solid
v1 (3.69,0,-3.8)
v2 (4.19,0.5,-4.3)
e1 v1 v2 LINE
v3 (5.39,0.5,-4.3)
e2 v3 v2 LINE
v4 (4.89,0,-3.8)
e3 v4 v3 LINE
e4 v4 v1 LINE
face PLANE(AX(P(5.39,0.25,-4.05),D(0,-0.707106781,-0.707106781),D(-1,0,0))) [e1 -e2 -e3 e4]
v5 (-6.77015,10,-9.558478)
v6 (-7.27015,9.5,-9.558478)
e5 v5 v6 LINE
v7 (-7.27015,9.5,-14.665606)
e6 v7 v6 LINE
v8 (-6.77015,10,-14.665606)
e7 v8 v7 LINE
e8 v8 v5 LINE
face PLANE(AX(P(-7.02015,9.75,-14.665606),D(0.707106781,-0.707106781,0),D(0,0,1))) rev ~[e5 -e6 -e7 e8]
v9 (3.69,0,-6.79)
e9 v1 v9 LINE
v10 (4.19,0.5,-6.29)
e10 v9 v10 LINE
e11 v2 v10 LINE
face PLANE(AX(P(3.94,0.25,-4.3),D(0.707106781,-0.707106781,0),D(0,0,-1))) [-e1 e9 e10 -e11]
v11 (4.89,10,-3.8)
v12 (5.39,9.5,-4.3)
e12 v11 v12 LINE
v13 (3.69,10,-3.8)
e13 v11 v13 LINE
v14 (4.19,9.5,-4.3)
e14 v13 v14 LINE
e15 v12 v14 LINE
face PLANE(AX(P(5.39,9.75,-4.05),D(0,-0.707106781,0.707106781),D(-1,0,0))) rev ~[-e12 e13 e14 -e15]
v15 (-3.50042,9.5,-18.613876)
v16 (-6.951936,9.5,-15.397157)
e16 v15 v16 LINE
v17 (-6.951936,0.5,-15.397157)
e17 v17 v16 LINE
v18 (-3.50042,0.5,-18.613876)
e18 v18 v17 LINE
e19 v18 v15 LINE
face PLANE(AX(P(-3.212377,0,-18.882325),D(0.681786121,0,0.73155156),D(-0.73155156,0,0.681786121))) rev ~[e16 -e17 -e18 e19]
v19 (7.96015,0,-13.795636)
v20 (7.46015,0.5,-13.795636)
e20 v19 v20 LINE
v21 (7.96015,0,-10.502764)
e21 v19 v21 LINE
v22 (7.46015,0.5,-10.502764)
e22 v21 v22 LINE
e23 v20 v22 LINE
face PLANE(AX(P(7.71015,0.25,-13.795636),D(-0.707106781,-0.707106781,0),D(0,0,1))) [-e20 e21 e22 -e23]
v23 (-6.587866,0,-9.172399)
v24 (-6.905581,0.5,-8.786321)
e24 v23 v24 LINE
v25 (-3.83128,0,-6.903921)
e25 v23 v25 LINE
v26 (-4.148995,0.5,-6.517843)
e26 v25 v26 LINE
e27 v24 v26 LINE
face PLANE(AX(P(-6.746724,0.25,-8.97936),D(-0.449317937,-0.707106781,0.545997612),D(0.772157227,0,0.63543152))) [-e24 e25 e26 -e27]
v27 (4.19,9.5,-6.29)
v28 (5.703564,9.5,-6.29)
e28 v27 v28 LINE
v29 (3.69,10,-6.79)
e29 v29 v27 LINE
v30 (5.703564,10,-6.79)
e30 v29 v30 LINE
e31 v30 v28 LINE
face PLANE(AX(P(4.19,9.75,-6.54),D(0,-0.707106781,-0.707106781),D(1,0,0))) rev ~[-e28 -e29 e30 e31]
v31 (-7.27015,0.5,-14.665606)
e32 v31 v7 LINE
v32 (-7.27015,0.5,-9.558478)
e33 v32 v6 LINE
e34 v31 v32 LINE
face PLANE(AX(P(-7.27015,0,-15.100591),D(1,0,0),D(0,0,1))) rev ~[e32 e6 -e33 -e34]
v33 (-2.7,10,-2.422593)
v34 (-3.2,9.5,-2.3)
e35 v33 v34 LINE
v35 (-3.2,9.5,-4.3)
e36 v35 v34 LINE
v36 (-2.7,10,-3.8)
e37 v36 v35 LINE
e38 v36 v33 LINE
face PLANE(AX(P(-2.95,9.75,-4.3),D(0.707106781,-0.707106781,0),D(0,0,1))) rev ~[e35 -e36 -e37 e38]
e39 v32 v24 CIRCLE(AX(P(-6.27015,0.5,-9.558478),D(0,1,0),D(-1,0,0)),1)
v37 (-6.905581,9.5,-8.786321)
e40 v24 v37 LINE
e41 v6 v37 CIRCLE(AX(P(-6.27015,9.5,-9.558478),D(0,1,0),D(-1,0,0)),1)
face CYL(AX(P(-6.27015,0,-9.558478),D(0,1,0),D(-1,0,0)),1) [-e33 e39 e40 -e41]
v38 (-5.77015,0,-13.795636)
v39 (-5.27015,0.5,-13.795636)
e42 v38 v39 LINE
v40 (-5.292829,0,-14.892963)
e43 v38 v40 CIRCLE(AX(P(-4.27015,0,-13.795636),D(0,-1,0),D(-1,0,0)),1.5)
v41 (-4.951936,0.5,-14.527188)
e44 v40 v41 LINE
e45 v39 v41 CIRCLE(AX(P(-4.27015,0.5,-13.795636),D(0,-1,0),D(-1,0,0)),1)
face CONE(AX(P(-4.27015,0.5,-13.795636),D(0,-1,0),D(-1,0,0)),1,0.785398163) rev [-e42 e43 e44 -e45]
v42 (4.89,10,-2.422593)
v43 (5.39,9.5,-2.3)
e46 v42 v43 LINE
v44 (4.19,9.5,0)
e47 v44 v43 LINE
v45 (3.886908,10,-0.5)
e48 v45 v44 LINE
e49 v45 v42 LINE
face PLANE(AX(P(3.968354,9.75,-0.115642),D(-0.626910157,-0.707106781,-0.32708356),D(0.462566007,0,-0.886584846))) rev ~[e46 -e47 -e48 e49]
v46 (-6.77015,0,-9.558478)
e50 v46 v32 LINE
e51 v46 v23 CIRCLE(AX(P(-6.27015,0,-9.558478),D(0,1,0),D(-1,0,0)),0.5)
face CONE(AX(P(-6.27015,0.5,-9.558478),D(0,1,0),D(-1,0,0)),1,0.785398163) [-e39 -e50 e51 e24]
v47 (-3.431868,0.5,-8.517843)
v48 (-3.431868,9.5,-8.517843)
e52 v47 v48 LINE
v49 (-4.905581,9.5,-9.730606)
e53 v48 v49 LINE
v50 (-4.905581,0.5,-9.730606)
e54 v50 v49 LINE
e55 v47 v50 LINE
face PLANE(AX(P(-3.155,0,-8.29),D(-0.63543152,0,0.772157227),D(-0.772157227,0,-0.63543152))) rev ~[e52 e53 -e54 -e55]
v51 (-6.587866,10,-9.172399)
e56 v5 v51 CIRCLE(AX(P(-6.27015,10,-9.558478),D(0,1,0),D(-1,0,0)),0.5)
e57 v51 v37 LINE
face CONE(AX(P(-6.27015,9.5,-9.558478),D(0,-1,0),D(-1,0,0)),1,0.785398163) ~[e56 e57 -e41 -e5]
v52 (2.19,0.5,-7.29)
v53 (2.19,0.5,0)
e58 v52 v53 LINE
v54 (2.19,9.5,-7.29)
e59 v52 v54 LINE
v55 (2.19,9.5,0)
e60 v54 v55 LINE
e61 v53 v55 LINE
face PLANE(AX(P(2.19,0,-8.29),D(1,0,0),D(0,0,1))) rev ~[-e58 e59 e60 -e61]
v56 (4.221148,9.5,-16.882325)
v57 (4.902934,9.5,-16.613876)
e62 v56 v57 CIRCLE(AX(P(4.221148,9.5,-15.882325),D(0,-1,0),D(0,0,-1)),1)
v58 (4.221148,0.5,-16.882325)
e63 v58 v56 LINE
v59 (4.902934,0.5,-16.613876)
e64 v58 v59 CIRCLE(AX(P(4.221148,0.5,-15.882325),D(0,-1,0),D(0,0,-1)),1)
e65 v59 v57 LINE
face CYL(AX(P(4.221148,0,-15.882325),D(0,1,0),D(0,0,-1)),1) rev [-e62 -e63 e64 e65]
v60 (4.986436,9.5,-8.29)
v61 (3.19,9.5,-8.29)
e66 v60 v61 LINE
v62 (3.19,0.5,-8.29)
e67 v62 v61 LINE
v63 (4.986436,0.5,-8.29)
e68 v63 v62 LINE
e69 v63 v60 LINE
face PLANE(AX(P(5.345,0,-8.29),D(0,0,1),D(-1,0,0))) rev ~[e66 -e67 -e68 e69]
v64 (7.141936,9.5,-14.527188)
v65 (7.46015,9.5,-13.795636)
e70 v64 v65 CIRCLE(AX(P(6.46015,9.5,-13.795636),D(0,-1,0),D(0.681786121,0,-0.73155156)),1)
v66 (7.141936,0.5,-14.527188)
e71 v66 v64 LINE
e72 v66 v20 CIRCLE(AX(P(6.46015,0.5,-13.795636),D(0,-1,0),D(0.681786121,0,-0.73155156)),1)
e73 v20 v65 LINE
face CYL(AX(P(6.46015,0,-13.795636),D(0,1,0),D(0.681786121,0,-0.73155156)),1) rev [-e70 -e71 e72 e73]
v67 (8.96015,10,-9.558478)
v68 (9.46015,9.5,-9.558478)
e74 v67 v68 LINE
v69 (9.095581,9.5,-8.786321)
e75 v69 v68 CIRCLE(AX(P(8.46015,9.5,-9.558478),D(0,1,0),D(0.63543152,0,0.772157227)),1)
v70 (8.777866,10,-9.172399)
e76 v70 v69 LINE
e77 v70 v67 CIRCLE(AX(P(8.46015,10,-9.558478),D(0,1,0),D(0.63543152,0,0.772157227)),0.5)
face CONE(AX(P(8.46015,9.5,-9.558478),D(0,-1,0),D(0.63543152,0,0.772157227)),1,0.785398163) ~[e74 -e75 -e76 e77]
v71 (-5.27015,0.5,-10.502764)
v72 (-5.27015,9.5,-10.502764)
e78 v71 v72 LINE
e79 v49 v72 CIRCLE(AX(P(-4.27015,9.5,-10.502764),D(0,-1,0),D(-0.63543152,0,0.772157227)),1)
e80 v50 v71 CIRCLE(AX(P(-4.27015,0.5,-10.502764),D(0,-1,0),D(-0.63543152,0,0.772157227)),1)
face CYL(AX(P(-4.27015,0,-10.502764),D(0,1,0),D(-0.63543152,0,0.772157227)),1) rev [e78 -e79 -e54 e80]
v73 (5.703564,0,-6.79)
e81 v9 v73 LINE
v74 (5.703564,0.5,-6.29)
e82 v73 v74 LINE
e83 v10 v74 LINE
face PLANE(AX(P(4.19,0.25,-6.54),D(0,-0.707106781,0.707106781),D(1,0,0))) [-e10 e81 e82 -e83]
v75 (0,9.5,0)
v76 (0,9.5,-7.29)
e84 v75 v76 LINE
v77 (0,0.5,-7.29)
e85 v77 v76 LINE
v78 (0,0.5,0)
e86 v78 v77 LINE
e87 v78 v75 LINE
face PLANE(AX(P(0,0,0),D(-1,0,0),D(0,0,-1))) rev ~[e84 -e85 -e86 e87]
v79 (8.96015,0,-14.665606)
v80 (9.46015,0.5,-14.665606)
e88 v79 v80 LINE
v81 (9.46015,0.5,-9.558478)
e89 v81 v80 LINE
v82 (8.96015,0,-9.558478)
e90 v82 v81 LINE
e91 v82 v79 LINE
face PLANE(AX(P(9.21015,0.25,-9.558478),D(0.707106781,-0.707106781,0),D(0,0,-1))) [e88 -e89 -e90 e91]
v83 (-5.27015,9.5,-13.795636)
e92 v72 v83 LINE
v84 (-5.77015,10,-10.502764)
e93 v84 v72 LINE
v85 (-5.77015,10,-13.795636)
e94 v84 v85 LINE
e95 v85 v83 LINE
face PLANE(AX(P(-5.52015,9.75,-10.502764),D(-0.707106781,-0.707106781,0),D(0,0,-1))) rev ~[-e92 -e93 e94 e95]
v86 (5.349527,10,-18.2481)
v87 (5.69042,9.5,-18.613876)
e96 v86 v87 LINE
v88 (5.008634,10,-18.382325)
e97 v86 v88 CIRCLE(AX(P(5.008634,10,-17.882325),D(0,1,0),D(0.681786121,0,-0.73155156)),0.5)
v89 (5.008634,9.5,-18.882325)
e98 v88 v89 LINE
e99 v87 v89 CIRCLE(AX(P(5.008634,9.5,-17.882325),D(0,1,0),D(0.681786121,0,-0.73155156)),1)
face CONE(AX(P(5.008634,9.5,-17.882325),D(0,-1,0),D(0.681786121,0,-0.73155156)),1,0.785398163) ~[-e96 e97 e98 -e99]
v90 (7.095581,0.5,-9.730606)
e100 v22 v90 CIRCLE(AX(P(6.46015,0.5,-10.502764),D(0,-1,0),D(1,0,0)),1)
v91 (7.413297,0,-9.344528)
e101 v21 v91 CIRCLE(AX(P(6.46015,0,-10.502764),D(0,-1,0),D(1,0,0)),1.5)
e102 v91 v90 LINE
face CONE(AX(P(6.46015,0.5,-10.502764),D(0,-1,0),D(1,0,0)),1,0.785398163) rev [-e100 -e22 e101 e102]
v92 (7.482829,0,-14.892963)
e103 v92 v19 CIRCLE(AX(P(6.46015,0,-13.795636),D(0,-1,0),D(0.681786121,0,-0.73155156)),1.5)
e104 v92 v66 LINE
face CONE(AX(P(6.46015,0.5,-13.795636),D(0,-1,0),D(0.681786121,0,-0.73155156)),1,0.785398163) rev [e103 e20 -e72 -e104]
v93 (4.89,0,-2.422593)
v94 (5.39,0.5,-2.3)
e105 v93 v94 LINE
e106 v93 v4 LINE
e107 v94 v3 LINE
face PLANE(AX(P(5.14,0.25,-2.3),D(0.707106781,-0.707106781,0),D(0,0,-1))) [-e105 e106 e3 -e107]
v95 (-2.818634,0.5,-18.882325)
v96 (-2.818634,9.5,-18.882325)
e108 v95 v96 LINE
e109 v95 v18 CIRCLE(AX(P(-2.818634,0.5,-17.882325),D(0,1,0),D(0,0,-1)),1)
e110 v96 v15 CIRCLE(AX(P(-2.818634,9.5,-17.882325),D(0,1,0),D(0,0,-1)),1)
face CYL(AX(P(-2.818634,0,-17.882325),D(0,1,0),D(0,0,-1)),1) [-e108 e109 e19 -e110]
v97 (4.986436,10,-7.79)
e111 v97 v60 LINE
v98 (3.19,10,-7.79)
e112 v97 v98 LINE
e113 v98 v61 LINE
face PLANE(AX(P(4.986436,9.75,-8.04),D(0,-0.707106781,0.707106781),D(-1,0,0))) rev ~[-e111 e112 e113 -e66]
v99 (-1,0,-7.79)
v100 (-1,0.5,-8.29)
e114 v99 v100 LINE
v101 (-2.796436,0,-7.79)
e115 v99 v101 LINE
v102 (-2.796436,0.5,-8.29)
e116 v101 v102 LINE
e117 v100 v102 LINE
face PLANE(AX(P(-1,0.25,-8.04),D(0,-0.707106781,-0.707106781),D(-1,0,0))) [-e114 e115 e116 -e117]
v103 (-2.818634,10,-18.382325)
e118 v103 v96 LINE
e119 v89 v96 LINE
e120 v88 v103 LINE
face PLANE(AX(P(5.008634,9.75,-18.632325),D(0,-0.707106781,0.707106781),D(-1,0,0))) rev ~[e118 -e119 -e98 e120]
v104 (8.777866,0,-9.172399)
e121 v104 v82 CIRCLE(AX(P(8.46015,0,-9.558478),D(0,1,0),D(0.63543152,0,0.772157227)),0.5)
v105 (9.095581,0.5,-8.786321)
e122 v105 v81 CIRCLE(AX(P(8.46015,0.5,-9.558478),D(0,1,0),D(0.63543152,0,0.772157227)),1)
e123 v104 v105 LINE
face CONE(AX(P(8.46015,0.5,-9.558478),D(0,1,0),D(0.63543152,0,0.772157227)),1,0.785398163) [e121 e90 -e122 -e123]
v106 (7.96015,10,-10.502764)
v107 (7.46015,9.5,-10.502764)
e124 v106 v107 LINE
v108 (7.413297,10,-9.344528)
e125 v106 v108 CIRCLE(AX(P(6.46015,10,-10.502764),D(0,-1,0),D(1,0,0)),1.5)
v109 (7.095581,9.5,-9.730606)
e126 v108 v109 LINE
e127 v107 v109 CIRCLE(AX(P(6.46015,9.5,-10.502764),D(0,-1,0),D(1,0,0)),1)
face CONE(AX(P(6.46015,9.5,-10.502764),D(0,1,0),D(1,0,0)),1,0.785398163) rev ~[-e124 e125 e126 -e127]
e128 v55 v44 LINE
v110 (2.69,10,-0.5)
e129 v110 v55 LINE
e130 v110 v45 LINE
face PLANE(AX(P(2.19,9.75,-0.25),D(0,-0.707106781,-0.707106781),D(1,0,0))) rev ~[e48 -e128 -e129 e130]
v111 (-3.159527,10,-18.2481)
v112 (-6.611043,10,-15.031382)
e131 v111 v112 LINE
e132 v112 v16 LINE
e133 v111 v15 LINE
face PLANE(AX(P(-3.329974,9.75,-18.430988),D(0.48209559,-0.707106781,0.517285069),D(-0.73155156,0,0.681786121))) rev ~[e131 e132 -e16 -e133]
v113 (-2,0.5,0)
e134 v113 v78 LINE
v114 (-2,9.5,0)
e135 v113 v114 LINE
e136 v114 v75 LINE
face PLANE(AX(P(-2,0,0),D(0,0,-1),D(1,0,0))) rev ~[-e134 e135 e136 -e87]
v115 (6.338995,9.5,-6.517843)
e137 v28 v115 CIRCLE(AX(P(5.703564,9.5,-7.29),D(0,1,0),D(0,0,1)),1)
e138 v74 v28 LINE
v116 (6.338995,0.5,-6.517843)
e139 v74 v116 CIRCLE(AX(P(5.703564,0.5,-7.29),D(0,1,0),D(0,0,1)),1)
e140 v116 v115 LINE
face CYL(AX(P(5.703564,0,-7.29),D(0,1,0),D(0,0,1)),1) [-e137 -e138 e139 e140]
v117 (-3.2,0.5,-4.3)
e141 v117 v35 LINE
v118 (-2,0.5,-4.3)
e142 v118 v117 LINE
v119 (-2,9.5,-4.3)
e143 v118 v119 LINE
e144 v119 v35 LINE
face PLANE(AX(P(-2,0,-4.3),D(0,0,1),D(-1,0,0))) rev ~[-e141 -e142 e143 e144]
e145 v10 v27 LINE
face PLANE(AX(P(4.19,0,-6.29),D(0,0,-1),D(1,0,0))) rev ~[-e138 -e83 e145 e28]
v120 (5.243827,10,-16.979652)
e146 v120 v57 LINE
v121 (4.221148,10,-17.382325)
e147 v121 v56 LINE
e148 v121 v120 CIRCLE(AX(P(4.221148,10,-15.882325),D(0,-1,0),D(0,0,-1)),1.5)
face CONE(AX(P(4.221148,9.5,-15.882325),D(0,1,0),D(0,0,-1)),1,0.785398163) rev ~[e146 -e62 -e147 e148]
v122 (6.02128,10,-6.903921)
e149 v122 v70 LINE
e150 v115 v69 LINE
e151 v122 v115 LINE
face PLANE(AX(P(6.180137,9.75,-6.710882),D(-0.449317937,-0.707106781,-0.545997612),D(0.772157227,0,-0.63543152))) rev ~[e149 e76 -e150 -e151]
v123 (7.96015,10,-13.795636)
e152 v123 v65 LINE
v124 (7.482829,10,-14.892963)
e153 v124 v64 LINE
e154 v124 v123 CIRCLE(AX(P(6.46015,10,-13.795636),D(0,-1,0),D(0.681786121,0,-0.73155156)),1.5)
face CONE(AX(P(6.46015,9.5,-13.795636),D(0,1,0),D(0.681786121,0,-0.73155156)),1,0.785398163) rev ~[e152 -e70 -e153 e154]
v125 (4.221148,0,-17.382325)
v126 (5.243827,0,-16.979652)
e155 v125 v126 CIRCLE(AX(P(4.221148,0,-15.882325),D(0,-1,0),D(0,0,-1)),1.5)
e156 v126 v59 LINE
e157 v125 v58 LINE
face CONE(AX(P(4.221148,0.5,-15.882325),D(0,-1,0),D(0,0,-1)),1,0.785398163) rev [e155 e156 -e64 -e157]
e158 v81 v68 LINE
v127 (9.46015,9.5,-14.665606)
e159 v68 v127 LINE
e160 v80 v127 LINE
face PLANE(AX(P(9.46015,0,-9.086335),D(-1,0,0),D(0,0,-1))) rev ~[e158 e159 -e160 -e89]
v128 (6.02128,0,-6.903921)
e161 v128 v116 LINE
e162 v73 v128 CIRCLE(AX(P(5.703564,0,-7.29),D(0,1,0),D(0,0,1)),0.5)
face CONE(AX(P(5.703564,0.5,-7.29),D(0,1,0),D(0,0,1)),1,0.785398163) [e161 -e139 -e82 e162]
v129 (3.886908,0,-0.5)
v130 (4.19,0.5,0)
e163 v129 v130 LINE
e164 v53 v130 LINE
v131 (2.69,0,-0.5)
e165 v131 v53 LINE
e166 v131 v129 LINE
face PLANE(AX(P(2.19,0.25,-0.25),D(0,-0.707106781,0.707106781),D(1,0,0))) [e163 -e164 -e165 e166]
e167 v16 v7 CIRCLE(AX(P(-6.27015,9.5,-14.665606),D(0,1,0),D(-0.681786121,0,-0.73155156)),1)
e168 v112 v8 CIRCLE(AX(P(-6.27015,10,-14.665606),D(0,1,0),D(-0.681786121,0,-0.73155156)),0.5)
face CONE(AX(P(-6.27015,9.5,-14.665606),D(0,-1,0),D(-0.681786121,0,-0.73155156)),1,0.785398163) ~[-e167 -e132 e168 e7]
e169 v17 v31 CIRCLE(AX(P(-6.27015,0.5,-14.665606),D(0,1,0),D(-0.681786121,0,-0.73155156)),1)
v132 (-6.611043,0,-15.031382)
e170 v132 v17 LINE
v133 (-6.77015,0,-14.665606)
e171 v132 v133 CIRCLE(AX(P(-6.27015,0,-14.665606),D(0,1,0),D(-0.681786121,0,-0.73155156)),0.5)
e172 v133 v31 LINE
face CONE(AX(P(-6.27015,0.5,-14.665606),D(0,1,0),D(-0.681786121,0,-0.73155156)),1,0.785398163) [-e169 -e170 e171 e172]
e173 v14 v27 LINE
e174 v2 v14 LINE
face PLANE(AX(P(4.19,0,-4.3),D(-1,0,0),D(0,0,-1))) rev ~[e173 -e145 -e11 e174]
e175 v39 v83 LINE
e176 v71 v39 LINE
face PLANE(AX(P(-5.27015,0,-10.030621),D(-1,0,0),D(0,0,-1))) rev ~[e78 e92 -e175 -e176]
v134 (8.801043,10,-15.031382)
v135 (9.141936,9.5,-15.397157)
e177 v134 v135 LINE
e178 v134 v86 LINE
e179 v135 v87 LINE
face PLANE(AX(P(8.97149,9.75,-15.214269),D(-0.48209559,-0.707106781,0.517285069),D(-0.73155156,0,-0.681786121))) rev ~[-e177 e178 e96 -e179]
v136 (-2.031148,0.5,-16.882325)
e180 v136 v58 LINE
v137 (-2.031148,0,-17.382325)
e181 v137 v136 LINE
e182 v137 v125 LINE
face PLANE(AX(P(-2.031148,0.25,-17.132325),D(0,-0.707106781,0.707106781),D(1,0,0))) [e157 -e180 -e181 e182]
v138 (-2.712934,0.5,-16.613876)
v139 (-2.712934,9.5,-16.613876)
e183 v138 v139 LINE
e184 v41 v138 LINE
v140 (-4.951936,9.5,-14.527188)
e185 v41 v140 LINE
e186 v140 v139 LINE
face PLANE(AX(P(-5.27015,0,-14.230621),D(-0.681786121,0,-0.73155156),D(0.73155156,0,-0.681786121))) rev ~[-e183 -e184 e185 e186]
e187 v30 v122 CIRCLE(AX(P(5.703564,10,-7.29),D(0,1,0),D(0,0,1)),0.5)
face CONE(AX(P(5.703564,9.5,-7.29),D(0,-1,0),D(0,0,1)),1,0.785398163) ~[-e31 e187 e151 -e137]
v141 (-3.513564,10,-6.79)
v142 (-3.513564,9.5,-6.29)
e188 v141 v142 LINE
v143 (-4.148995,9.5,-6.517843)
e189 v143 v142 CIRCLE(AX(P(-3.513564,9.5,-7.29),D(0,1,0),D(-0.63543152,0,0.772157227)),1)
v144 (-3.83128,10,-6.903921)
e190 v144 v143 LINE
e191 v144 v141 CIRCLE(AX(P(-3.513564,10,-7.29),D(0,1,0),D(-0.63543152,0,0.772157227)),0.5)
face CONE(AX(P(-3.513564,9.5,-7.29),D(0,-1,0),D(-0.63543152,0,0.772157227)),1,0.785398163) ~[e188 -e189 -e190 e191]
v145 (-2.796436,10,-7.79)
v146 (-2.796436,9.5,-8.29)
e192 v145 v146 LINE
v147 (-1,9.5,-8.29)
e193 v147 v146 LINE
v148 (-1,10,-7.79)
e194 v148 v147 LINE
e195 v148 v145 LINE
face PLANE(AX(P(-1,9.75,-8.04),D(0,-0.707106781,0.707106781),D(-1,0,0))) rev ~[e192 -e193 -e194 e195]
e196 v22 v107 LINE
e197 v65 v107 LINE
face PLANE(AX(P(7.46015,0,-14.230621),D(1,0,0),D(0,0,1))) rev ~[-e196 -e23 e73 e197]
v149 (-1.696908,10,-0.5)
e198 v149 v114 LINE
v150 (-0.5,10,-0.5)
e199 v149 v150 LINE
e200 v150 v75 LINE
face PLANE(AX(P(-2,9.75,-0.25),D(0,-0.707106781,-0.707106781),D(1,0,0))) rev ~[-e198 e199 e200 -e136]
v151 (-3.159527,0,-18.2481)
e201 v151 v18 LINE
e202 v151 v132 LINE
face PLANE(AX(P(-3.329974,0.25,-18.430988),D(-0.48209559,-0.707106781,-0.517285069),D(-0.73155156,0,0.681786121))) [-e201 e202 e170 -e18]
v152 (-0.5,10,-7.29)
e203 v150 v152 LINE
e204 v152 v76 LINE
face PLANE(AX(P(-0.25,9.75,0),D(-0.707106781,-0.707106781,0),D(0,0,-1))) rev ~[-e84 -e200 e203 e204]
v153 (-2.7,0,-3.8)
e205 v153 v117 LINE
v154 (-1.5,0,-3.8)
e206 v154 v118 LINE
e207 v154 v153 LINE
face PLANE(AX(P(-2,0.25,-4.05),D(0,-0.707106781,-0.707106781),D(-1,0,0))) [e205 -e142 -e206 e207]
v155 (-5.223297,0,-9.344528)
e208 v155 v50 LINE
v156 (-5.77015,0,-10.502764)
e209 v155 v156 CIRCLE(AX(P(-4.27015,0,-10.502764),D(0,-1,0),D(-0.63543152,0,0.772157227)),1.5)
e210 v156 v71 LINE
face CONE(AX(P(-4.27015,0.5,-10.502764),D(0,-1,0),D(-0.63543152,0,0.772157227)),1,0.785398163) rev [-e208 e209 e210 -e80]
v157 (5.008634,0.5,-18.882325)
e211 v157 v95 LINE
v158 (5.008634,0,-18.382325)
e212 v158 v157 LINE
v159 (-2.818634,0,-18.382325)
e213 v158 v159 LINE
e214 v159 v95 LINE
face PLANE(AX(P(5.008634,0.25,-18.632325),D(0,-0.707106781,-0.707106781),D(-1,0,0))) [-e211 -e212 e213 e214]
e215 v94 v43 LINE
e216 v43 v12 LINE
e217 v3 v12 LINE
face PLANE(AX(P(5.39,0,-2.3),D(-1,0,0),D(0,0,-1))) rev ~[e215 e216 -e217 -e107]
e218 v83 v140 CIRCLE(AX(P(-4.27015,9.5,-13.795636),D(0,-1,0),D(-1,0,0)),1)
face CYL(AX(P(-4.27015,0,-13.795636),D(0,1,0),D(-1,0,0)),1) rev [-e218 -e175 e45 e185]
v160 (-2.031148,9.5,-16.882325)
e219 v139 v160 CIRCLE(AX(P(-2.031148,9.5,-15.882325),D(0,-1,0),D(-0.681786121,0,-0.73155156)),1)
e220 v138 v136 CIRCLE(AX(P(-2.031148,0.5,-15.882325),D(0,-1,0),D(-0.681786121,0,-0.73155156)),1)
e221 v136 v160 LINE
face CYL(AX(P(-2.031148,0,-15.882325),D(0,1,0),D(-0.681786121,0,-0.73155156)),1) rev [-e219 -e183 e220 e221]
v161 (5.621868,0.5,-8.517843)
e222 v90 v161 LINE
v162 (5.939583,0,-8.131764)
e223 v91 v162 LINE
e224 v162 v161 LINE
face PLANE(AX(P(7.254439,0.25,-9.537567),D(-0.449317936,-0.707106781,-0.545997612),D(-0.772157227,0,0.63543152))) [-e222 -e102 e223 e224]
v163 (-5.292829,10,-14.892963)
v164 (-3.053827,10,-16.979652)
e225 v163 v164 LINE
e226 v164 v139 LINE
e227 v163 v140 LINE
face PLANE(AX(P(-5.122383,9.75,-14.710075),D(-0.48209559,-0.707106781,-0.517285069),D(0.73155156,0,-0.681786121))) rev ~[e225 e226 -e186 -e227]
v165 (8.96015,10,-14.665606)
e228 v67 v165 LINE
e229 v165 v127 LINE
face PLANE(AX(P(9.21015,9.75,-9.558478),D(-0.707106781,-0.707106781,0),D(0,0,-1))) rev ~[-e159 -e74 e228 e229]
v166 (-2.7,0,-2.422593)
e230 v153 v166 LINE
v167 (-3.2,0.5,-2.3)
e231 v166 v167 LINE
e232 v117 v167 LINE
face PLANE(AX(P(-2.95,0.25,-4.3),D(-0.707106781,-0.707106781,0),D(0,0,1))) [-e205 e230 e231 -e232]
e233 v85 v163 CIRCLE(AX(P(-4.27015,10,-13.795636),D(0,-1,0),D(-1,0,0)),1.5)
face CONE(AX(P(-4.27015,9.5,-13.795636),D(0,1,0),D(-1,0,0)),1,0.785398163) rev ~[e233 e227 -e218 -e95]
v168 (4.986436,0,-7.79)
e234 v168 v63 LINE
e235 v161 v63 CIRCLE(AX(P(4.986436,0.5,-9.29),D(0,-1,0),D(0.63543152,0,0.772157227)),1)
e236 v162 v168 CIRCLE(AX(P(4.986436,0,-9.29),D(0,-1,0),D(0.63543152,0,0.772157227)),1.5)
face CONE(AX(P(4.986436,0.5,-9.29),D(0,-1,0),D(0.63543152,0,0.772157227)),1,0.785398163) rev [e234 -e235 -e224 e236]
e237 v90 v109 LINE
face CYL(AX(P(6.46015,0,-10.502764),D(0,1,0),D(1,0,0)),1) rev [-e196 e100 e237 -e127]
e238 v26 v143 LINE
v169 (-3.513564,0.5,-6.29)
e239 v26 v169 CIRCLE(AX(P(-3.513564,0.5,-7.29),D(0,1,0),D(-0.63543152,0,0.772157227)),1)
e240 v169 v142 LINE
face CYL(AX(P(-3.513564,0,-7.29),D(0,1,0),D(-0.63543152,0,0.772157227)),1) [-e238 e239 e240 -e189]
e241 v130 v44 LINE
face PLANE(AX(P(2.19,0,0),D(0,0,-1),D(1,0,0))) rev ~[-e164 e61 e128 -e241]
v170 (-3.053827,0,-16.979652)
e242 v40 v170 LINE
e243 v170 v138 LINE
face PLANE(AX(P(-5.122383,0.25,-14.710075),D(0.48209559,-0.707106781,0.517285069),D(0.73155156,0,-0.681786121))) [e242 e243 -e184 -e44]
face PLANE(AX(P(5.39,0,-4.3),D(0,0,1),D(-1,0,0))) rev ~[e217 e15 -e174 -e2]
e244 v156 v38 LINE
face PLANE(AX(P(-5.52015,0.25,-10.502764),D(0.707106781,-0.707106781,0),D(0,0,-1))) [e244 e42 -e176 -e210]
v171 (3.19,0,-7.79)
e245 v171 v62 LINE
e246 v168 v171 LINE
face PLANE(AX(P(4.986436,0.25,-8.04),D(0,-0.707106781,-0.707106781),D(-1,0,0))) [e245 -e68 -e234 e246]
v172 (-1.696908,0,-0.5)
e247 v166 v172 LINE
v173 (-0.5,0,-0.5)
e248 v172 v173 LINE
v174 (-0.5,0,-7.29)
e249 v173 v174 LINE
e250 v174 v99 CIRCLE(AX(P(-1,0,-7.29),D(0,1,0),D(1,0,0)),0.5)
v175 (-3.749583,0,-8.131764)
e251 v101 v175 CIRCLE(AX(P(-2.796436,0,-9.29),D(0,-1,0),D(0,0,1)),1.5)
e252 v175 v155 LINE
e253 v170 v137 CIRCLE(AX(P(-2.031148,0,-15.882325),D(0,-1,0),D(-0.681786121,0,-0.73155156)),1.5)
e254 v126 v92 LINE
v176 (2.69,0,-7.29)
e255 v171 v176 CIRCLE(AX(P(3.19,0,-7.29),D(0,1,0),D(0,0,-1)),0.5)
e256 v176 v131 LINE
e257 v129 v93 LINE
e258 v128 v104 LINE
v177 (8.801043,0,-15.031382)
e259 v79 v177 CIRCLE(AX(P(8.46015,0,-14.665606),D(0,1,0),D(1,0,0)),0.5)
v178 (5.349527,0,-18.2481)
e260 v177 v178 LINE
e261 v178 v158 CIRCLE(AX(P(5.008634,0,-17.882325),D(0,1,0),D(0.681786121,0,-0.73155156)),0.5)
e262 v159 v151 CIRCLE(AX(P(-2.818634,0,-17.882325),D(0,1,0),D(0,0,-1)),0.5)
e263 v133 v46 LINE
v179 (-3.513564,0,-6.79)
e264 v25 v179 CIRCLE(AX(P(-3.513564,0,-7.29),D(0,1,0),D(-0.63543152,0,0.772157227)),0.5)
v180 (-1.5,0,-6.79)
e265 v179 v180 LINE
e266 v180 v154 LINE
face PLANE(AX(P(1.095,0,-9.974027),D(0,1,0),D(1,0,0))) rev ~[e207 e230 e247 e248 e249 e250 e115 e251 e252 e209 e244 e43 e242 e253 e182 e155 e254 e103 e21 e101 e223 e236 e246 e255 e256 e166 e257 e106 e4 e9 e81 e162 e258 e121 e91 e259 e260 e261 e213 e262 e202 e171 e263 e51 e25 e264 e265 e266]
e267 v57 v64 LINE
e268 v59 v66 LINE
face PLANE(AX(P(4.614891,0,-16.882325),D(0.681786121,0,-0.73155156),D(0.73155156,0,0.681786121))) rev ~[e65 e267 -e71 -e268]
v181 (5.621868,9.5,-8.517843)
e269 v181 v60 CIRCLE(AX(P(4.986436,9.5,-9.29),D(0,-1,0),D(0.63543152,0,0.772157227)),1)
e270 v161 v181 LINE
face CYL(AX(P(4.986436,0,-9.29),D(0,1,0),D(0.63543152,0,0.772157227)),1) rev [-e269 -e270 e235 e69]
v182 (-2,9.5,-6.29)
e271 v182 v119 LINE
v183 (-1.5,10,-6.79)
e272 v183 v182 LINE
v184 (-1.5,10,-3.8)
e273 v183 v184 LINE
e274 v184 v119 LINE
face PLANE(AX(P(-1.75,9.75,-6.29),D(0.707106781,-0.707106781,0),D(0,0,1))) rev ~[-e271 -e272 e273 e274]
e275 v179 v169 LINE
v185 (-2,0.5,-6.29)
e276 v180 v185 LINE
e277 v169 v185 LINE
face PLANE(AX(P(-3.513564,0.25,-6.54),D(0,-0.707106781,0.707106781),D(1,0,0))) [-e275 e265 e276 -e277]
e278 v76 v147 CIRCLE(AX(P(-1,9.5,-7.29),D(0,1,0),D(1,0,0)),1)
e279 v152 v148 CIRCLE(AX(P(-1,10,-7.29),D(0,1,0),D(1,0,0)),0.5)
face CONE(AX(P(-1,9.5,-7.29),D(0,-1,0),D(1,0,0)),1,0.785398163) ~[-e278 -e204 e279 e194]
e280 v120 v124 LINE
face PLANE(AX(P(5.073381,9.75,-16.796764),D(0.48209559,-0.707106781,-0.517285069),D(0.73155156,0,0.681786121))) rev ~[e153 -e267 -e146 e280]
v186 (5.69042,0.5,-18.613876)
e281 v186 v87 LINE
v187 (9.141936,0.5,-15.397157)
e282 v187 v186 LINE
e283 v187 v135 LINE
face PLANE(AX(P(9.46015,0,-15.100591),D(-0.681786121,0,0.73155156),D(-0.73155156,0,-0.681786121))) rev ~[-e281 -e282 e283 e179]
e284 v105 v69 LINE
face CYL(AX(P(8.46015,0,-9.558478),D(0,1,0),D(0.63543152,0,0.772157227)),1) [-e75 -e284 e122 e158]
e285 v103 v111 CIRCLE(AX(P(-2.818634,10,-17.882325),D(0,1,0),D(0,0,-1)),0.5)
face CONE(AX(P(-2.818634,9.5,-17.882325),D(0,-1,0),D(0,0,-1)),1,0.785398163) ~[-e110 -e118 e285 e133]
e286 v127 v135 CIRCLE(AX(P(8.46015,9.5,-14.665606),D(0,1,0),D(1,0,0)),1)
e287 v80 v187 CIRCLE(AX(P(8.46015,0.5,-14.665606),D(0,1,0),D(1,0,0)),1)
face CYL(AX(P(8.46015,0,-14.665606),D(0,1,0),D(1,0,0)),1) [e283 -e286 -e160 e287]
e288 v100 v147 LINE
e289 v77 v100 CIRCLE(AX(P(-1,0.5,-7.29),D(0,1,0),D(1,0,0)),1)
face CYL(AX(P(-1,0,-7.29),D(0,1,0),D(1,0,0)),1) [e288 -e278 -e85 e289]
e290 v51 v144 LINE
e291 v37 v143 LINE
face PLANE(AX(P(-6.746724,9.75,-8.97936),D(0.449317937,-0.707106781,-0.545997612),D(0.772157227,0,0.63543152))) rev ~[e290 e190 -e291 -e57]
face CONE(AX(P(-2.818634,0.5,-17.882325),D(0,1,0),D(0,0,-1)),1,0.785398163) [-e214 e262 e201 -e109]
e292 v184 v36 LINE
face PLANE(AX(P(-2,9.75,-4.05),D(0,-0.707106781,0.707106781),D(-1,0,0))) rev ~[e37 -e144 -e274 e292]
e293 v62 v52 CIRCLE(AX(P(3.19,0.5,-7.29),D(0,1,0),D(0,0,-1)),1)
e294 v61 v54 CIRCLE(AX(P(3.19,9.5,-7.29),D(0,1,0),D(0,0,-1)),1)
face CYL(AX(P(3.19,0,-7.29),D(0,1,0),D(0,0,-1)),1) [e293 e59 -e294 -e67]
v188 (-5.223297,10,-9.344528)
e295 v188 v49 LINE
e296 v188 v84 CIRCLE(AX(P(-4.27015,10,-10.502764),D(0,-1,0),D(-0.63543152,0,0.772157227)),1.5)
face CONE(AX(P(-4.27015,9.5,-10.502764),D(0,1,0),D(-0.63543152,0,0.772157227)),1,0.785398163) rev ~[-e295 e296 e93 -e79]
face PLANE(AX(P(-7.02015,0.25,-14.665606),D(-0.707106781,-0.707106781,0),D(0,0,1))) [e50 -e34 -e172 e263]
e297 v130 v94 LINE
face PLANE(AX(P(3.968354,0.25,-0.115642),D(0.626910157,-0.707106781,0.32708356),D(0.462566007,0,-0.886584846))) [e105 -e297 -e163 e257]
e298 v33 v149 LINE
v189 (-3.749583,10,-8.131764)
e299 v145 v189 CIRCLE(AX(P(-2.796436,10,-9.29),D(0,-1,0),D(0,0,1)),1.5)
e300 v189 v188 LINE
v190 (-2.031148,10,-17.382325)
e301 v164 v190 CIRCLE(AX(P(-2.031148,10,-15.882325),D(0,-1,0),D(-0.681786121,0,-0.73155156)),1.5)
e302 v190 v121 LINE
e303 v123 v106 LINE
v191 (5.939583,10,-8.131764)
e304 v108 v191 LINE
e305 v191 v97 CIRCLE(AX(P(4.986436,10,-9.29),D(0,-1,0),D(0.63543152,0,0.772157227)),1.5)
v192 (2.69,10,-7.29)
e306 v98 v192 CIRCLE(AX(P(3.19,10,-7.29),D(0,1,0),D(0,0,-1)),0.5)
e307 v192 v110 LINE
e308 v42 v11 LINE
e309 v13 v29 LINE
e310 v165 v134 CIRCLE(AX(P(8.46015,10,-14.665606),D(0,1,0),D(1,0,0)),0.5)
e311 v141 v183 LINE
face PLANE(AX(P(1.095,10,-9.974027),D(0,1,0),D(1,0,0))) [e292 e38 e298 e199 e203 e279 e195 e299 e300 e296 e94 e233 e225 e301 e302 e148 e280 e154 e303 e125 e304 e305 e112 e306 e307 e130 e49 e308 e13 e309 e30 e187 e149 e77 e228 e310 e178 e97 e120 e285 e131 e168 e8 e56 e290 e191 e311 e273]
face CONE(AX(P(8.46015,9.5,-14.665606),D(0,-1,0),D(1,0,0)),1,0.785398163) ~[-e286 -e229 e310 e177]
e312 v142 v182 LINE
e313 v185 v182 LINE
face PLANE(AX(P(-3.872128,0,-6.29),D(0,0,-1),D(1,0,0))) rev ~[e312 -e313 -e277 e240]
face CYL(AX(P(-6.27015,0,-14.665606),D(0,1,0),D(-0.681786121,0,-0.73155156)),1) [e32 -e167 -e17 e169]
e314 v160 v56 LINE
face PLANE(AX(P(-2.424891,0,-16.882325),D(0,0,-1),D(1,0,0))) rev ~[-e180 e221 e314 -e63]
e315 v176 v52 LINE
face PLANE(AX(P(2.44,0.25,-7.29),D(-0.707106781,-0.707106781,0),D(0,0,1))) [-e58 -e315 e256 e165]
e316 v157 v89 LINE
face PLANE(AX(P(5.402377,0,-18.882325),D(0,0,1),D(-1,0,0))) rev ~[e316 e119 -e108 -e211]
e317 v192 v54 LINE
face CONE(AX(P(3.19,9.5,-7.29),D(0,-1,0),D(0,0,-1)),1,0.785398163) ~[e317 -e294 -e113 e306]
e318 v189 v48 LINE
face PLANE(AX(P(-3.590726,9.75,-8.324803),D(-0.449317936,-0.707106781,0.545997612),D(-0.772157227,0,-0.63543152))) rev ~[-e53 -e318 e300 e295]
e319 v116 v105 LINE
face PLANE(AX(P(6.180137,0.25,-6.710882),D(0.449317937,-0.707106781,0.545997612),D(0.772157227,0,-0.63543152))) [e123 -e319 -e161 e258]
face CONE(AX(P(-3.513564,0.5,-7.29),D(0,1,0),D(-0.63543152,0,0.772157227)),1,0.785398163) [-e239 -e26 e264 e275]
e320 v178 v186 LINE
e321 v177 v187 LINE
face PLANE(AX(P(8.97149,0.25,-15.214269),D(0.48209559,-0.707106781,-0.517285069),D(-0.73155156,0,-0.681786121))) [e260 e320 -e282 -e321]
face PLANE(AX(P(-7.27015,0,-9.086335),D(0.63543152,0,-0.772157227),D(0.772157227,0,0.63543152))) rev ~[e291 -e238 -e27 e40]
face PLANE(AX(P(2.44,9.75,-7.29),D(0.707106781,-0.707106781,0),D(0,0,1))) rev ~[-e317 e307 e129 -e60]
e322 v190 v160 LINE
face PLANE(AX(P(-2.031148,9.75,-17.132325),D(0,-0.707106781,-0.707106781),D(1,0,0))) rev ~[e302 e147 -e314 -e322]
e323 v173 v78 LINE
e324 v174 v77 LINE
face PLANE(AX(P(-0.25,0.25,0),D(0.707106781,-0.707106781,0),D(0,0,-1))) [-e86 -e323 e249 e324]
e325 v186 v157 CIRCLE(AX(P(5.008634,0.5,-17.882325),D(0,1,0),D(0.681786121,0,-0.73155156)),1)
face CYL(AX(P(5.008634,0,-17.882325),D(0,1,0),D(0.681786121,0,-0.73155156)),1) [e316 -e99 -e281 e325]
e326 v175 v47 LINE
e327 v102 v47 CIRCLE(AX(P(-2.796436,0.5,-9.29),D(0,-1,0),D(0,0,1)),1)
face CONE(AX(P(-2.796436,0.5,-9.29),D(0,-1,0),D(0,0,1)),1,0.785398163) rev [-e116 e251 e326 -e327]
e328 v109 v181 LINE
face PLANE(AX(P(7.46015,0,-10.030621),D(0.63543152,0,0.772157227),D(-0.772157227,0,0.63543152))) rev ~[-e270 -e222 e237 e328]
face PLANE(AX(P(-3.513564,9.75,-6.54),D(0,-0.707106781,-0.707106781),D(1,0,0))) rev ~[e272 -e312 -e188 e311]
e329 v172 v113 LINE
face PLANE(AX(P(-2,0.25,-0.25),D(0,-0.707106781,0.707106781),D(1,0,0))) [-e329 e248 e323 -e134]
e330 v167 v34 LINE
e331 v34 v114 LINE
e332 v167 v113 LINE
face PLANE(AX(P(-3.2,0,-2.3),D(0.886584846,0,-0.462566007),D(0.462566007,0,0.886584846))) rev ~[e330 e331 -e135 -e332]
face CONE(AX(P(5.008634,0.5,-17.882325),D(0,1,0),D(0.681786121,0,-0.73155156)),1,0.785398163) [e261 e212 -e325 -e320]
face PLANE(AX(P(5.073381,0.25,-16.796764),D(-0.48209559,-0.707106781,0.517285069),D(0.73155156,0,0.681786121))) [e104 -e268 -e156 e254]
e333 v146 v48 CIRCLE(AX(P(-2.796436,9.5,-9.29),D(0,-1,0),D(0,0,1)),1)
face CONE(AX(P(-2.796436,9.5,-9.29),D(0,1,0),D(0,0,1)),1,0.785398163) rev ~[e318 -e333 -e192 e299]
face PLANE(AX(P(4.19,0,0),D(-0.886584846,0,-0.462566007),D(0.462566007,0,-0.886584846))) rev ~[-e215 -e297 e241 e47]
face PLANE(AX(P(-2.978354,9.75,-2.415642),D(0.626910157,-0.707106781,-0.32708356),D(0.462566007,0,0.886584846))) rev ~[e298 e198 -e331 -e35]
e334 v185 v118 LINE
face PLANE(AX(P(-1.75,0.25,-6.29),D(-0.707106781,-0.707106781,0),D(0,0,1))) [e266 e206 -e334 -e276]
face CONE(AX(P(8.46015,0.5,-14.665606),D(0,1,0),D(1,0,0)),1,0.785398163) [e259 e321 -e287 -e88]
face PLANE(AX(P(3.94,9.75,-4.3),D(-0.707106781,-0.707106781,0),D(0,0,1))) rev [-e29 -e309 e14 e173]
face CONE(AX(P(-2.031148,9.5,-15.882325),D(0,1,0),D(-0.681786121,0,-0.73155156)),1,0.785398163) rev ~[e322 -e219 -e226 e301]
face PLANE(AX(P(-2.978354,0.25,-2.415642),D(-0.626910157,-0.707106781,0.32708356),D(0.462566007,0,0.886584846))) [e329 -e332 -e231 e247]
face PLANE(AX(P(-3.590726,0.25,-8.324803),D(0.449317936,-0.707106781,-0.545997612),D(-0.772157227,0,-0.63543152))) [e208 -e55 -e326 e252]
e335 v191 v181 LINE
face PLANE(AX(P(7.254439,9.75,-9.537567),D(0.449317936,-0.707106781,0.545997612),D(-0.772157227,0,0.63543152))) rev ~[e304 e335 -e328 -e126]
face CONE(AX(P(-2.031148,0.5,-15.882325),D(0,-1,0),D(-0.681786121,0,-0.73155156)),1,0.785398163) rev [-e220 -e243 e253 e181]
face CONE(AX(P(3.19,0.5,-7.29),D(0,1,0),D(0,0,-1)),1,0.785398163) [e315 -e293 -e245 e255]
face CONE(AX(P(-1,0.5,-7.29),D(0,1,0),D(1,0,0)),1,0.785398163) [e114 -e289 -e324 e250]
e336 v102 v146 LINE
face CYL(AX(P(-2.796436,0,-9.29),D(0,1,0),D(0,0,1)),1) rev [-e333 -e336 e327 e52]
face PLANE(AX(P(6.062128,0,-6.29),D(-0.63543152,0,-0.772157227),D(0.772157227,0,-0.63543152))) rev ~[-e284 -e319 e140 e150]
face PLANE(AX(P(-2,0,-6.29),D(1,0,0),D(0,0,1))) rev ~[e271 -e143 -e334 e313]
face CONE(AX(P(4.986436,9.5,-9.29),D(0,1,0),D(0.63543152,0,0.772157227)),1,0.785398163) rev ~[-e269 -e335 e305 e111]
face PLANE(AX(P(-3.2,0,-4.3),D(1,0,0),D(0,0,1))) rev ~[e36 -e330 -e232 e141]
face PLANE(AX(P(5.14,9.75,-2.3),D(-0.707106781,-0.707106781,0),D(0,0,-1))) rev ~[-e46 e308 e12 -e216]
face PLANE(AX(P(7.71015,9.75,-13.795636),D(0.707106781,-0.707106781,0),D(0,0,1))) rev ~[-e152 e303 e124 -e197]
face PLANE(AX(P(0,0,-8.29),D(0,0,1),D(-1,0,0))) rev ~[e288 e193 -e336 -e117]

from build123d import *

# Parameters (mm, degrees)
BOSS_EXTRUDE1_DEPTH = 10
FILLET1_R           = 1
CHAMFER1_SIZE       = 0.5


with BuildPart() as part:
    # Sketch1 → Boss-Extrude1 (new body)
    with BuildSketch(Plane(origin=(0, 0, 0), x_dir=(1, 0, 0), z_dir=(0, 1, 0))):
        Polygon((2.19, 0), (4.19, 0), (5.39, 2.3), (5.39, 4.3), (4.19, 4.3), (4.19, 6.29), (6.062127702, 6.29), (9.46014997, 9.086335224), (9.46014997, 15.100590628), (5.402376873, 18.882324593), (-3.212376873, 18.882324593), (-7.27014997, 15.100590628), (-7.27014997, 9.086335224), (-3.872127702, 6.29), (-2, 6.29), (-2, 4.3), (-3.2, 4.3), (-3.2, 2.3), (-2, 0), (0, 0), (0, 8.29), (-3.155, 8.29), (-5.27014997, 10.030620837), (-5.27014997, 14.230620837), (-2.424891086, 16.882324593), (4.614891086, 16.882324593), (7.46014997, 14.230620837), (7.46014997, 10.030620837), (5.345, 8.29), (2.19, 8.29), align=None)
    extrude(amount=BOSS_EXTRUDE1_DEPTH)

    # Fillet1
    fillet1_edges = [part.edges().sort_by_distance(p)[0] for p in [
        (5.345, 5, -8.29),
        (7.46014997, 5, -10.030620837),
        (7.46014997, 5, -14.230620837),
        (4.614891086, 5, -16.882324593),
        (-2.424891086, 5, -16.882324593),
        (-5.27014997, 5, -14.230620837),
        (-5.27014997, 5, -10.030620837),
        (-3.155, 5, -8.29),
        (0, 5, -8.29),
        (-3.872127702, 5, -6.29),
        (-7.27014997, 5, -9.086335224),
        (-7.27014997, 5, -15.100590628),
        (-3.212376873, 5, -18.882324593),
        (5.402376873, 5, -18.882324593),
        (9.46014997, 5, -15.100590628),
        (9.46014997, 5, -9.086335224),
        (6.062127702, 5, -6.29),
        (2.19, 5, -8.29),
    ]]
    fillet(fillet1_edges, radius=FILLET1_R)

    # Chamfer1
    chamfer1_edges = [part.edges().sort_by_distance(p)[0] for p in [
        (9.364426343, 0, -9.131530446),
        (9.377152184, 0, -15.064487844),
        (5.375000217, 0, -18.812795323),
        (-3.185000217, 0, -18.812795323),
        (-7.187152184, 0, -15.064487844),
        (-0.292893219, 0, -7.997106781),
        (-3.851086274, 0, -6.348682512),
        (-7.174426343, 0, -9.131530446),
        (-7.27014997, 10, -12.112041882),
        (4.088218075, 10, -8.29),
        (2.19, 10, -3.645),
        (4.946781925, 10, -6.29),
        (7.71728843, 10, -7.652081788),
        (9.46014997, 10, -12.112041882),
        (7.416178096, 10, -17.005516722),
        (1.095, 10, -18.882324593),
        (-5.226178096, 10, -17.005516722),
        (-2.756781925, 10, -6.29),
        (0, 10, -3.645),
        (-1.898218075, 10, -8.29),
        (-4.168724579, 10, -9.124224594),
        (-5.27014997, 10, -12.149199793),
        (-3.832435203, 10, -15.570531827),
        (1.095, 10, -16.882324593),
        (6.022435203, 10, -15.570531827),
        (7.46014997, 10, -12.149199793),
        (6.358724579, 10, -9.124224594),
        (2.482893219, 10, -7.997106781),
        (6.041086274, 10, -6.348682512),
        (9.364426343, 10, -9.131530446),
        (9.377152184, 10, -15.064487844),
        (5.375000217, 10, -18.812795323),
        (-3.185000217, 10, -18.812795323),
        (-7.187152184, 10, -15.064487844),
        (-0.292893219, 10, -7.997106781),
        (-3.851086274, 10, -6.348682512),
        (-7.174426343, 10, -9.131530446),
        (3.19, 10, 0),
        (-3.133958573, 0, -8.348682512),
        (-3.133958573, 10, -8.348682512),
        (-5.174426343, 0, -10.075816059),
        (-5.174426343, 10, -10.075816059),
        (-5.187152184, 0, -14.194518054),
        (-5.187152184, 10, -14.194518054),
        (-2.39751443, 0, -16.812795323),
        (-2.39751443, 10, -16.812795323),
        (4.58751443, 0, -16.812795323),
        (4.58751443, 10, -16.812795323),
        (5.323958573, 0, -8.348682512),
        (5.323958573, 10, -8.348682512),
        (7.364426343, 0, -10.075816059),
        (7.364426343, 10, -10.075816059),
        (7.377152184, 0, -14.194518054),
        (7.377152184, 10, -14.194518054),
        (4.79, 10, -1.15),
        (5.39, 10, -3.3),
        (4.79, 10, -4.3),
        (4.19, 10, -5.295),
        (-1, 0, 0),
        (-2.6, 0, -1.15),
        (-3.2, 0, -3.3),
        (-2.6, 0, -4.3),
        (-2, 0, -5.295),
        (4.19, 0, -5.295),
        (4.79, 0, -4.3),
        (5.39, 0, -3.3),
        (4.79, 0, -1.15),
        (3.19, 0, 0),
        (-2, 10, -5.295),
        (-2.6, 10, -4.3),
        (-3.2, 10, -3.3),
        (-2.6, 10, -1.15),
        (-1, 10, 0),
        (-5.52728843, 0, -7.652081788),
        (-5.52728843, 10, -7.652081788),
        (4.088218075, 0, -8.29),
        (6.358724579, 0, -9.124224594),
        (7.46014997, 0, -12.149199793),
        (6.022435203, 0, -15.570531827),
        (1.095, 0, -16.882324593),
        (-3.832435203, 0, -15.570531827),
        (-5.27014997, 0, -12.149199793),
        (-4.168724579, 0, -9.124224594),
        (-1.898218075, 0, -8.29),
        (0, 0, -3.645),
        (-2.756781925, 0, -6.29),
        (-7.27014997, 0, -12.112041882),
        (-5.226178096, 0, -17.005516722),
        (1.095, 0, -18.882324593),
        (7.416178096, 0, -17.005516722),
        (9.46014997, 0, -12.112041882),
        (7.71728843, 0, -7.652081788),
        (4.946781925, 0, -6.29),
        (2.19, 0, -3.645),
        (2.482893219, 0, -7.997106781),
        (6.041086274, 0, -6.348682512),
    ]]
    chamfer(chamfer1_edges, length=CHAMFER1_SIZE)


solid = part.part
